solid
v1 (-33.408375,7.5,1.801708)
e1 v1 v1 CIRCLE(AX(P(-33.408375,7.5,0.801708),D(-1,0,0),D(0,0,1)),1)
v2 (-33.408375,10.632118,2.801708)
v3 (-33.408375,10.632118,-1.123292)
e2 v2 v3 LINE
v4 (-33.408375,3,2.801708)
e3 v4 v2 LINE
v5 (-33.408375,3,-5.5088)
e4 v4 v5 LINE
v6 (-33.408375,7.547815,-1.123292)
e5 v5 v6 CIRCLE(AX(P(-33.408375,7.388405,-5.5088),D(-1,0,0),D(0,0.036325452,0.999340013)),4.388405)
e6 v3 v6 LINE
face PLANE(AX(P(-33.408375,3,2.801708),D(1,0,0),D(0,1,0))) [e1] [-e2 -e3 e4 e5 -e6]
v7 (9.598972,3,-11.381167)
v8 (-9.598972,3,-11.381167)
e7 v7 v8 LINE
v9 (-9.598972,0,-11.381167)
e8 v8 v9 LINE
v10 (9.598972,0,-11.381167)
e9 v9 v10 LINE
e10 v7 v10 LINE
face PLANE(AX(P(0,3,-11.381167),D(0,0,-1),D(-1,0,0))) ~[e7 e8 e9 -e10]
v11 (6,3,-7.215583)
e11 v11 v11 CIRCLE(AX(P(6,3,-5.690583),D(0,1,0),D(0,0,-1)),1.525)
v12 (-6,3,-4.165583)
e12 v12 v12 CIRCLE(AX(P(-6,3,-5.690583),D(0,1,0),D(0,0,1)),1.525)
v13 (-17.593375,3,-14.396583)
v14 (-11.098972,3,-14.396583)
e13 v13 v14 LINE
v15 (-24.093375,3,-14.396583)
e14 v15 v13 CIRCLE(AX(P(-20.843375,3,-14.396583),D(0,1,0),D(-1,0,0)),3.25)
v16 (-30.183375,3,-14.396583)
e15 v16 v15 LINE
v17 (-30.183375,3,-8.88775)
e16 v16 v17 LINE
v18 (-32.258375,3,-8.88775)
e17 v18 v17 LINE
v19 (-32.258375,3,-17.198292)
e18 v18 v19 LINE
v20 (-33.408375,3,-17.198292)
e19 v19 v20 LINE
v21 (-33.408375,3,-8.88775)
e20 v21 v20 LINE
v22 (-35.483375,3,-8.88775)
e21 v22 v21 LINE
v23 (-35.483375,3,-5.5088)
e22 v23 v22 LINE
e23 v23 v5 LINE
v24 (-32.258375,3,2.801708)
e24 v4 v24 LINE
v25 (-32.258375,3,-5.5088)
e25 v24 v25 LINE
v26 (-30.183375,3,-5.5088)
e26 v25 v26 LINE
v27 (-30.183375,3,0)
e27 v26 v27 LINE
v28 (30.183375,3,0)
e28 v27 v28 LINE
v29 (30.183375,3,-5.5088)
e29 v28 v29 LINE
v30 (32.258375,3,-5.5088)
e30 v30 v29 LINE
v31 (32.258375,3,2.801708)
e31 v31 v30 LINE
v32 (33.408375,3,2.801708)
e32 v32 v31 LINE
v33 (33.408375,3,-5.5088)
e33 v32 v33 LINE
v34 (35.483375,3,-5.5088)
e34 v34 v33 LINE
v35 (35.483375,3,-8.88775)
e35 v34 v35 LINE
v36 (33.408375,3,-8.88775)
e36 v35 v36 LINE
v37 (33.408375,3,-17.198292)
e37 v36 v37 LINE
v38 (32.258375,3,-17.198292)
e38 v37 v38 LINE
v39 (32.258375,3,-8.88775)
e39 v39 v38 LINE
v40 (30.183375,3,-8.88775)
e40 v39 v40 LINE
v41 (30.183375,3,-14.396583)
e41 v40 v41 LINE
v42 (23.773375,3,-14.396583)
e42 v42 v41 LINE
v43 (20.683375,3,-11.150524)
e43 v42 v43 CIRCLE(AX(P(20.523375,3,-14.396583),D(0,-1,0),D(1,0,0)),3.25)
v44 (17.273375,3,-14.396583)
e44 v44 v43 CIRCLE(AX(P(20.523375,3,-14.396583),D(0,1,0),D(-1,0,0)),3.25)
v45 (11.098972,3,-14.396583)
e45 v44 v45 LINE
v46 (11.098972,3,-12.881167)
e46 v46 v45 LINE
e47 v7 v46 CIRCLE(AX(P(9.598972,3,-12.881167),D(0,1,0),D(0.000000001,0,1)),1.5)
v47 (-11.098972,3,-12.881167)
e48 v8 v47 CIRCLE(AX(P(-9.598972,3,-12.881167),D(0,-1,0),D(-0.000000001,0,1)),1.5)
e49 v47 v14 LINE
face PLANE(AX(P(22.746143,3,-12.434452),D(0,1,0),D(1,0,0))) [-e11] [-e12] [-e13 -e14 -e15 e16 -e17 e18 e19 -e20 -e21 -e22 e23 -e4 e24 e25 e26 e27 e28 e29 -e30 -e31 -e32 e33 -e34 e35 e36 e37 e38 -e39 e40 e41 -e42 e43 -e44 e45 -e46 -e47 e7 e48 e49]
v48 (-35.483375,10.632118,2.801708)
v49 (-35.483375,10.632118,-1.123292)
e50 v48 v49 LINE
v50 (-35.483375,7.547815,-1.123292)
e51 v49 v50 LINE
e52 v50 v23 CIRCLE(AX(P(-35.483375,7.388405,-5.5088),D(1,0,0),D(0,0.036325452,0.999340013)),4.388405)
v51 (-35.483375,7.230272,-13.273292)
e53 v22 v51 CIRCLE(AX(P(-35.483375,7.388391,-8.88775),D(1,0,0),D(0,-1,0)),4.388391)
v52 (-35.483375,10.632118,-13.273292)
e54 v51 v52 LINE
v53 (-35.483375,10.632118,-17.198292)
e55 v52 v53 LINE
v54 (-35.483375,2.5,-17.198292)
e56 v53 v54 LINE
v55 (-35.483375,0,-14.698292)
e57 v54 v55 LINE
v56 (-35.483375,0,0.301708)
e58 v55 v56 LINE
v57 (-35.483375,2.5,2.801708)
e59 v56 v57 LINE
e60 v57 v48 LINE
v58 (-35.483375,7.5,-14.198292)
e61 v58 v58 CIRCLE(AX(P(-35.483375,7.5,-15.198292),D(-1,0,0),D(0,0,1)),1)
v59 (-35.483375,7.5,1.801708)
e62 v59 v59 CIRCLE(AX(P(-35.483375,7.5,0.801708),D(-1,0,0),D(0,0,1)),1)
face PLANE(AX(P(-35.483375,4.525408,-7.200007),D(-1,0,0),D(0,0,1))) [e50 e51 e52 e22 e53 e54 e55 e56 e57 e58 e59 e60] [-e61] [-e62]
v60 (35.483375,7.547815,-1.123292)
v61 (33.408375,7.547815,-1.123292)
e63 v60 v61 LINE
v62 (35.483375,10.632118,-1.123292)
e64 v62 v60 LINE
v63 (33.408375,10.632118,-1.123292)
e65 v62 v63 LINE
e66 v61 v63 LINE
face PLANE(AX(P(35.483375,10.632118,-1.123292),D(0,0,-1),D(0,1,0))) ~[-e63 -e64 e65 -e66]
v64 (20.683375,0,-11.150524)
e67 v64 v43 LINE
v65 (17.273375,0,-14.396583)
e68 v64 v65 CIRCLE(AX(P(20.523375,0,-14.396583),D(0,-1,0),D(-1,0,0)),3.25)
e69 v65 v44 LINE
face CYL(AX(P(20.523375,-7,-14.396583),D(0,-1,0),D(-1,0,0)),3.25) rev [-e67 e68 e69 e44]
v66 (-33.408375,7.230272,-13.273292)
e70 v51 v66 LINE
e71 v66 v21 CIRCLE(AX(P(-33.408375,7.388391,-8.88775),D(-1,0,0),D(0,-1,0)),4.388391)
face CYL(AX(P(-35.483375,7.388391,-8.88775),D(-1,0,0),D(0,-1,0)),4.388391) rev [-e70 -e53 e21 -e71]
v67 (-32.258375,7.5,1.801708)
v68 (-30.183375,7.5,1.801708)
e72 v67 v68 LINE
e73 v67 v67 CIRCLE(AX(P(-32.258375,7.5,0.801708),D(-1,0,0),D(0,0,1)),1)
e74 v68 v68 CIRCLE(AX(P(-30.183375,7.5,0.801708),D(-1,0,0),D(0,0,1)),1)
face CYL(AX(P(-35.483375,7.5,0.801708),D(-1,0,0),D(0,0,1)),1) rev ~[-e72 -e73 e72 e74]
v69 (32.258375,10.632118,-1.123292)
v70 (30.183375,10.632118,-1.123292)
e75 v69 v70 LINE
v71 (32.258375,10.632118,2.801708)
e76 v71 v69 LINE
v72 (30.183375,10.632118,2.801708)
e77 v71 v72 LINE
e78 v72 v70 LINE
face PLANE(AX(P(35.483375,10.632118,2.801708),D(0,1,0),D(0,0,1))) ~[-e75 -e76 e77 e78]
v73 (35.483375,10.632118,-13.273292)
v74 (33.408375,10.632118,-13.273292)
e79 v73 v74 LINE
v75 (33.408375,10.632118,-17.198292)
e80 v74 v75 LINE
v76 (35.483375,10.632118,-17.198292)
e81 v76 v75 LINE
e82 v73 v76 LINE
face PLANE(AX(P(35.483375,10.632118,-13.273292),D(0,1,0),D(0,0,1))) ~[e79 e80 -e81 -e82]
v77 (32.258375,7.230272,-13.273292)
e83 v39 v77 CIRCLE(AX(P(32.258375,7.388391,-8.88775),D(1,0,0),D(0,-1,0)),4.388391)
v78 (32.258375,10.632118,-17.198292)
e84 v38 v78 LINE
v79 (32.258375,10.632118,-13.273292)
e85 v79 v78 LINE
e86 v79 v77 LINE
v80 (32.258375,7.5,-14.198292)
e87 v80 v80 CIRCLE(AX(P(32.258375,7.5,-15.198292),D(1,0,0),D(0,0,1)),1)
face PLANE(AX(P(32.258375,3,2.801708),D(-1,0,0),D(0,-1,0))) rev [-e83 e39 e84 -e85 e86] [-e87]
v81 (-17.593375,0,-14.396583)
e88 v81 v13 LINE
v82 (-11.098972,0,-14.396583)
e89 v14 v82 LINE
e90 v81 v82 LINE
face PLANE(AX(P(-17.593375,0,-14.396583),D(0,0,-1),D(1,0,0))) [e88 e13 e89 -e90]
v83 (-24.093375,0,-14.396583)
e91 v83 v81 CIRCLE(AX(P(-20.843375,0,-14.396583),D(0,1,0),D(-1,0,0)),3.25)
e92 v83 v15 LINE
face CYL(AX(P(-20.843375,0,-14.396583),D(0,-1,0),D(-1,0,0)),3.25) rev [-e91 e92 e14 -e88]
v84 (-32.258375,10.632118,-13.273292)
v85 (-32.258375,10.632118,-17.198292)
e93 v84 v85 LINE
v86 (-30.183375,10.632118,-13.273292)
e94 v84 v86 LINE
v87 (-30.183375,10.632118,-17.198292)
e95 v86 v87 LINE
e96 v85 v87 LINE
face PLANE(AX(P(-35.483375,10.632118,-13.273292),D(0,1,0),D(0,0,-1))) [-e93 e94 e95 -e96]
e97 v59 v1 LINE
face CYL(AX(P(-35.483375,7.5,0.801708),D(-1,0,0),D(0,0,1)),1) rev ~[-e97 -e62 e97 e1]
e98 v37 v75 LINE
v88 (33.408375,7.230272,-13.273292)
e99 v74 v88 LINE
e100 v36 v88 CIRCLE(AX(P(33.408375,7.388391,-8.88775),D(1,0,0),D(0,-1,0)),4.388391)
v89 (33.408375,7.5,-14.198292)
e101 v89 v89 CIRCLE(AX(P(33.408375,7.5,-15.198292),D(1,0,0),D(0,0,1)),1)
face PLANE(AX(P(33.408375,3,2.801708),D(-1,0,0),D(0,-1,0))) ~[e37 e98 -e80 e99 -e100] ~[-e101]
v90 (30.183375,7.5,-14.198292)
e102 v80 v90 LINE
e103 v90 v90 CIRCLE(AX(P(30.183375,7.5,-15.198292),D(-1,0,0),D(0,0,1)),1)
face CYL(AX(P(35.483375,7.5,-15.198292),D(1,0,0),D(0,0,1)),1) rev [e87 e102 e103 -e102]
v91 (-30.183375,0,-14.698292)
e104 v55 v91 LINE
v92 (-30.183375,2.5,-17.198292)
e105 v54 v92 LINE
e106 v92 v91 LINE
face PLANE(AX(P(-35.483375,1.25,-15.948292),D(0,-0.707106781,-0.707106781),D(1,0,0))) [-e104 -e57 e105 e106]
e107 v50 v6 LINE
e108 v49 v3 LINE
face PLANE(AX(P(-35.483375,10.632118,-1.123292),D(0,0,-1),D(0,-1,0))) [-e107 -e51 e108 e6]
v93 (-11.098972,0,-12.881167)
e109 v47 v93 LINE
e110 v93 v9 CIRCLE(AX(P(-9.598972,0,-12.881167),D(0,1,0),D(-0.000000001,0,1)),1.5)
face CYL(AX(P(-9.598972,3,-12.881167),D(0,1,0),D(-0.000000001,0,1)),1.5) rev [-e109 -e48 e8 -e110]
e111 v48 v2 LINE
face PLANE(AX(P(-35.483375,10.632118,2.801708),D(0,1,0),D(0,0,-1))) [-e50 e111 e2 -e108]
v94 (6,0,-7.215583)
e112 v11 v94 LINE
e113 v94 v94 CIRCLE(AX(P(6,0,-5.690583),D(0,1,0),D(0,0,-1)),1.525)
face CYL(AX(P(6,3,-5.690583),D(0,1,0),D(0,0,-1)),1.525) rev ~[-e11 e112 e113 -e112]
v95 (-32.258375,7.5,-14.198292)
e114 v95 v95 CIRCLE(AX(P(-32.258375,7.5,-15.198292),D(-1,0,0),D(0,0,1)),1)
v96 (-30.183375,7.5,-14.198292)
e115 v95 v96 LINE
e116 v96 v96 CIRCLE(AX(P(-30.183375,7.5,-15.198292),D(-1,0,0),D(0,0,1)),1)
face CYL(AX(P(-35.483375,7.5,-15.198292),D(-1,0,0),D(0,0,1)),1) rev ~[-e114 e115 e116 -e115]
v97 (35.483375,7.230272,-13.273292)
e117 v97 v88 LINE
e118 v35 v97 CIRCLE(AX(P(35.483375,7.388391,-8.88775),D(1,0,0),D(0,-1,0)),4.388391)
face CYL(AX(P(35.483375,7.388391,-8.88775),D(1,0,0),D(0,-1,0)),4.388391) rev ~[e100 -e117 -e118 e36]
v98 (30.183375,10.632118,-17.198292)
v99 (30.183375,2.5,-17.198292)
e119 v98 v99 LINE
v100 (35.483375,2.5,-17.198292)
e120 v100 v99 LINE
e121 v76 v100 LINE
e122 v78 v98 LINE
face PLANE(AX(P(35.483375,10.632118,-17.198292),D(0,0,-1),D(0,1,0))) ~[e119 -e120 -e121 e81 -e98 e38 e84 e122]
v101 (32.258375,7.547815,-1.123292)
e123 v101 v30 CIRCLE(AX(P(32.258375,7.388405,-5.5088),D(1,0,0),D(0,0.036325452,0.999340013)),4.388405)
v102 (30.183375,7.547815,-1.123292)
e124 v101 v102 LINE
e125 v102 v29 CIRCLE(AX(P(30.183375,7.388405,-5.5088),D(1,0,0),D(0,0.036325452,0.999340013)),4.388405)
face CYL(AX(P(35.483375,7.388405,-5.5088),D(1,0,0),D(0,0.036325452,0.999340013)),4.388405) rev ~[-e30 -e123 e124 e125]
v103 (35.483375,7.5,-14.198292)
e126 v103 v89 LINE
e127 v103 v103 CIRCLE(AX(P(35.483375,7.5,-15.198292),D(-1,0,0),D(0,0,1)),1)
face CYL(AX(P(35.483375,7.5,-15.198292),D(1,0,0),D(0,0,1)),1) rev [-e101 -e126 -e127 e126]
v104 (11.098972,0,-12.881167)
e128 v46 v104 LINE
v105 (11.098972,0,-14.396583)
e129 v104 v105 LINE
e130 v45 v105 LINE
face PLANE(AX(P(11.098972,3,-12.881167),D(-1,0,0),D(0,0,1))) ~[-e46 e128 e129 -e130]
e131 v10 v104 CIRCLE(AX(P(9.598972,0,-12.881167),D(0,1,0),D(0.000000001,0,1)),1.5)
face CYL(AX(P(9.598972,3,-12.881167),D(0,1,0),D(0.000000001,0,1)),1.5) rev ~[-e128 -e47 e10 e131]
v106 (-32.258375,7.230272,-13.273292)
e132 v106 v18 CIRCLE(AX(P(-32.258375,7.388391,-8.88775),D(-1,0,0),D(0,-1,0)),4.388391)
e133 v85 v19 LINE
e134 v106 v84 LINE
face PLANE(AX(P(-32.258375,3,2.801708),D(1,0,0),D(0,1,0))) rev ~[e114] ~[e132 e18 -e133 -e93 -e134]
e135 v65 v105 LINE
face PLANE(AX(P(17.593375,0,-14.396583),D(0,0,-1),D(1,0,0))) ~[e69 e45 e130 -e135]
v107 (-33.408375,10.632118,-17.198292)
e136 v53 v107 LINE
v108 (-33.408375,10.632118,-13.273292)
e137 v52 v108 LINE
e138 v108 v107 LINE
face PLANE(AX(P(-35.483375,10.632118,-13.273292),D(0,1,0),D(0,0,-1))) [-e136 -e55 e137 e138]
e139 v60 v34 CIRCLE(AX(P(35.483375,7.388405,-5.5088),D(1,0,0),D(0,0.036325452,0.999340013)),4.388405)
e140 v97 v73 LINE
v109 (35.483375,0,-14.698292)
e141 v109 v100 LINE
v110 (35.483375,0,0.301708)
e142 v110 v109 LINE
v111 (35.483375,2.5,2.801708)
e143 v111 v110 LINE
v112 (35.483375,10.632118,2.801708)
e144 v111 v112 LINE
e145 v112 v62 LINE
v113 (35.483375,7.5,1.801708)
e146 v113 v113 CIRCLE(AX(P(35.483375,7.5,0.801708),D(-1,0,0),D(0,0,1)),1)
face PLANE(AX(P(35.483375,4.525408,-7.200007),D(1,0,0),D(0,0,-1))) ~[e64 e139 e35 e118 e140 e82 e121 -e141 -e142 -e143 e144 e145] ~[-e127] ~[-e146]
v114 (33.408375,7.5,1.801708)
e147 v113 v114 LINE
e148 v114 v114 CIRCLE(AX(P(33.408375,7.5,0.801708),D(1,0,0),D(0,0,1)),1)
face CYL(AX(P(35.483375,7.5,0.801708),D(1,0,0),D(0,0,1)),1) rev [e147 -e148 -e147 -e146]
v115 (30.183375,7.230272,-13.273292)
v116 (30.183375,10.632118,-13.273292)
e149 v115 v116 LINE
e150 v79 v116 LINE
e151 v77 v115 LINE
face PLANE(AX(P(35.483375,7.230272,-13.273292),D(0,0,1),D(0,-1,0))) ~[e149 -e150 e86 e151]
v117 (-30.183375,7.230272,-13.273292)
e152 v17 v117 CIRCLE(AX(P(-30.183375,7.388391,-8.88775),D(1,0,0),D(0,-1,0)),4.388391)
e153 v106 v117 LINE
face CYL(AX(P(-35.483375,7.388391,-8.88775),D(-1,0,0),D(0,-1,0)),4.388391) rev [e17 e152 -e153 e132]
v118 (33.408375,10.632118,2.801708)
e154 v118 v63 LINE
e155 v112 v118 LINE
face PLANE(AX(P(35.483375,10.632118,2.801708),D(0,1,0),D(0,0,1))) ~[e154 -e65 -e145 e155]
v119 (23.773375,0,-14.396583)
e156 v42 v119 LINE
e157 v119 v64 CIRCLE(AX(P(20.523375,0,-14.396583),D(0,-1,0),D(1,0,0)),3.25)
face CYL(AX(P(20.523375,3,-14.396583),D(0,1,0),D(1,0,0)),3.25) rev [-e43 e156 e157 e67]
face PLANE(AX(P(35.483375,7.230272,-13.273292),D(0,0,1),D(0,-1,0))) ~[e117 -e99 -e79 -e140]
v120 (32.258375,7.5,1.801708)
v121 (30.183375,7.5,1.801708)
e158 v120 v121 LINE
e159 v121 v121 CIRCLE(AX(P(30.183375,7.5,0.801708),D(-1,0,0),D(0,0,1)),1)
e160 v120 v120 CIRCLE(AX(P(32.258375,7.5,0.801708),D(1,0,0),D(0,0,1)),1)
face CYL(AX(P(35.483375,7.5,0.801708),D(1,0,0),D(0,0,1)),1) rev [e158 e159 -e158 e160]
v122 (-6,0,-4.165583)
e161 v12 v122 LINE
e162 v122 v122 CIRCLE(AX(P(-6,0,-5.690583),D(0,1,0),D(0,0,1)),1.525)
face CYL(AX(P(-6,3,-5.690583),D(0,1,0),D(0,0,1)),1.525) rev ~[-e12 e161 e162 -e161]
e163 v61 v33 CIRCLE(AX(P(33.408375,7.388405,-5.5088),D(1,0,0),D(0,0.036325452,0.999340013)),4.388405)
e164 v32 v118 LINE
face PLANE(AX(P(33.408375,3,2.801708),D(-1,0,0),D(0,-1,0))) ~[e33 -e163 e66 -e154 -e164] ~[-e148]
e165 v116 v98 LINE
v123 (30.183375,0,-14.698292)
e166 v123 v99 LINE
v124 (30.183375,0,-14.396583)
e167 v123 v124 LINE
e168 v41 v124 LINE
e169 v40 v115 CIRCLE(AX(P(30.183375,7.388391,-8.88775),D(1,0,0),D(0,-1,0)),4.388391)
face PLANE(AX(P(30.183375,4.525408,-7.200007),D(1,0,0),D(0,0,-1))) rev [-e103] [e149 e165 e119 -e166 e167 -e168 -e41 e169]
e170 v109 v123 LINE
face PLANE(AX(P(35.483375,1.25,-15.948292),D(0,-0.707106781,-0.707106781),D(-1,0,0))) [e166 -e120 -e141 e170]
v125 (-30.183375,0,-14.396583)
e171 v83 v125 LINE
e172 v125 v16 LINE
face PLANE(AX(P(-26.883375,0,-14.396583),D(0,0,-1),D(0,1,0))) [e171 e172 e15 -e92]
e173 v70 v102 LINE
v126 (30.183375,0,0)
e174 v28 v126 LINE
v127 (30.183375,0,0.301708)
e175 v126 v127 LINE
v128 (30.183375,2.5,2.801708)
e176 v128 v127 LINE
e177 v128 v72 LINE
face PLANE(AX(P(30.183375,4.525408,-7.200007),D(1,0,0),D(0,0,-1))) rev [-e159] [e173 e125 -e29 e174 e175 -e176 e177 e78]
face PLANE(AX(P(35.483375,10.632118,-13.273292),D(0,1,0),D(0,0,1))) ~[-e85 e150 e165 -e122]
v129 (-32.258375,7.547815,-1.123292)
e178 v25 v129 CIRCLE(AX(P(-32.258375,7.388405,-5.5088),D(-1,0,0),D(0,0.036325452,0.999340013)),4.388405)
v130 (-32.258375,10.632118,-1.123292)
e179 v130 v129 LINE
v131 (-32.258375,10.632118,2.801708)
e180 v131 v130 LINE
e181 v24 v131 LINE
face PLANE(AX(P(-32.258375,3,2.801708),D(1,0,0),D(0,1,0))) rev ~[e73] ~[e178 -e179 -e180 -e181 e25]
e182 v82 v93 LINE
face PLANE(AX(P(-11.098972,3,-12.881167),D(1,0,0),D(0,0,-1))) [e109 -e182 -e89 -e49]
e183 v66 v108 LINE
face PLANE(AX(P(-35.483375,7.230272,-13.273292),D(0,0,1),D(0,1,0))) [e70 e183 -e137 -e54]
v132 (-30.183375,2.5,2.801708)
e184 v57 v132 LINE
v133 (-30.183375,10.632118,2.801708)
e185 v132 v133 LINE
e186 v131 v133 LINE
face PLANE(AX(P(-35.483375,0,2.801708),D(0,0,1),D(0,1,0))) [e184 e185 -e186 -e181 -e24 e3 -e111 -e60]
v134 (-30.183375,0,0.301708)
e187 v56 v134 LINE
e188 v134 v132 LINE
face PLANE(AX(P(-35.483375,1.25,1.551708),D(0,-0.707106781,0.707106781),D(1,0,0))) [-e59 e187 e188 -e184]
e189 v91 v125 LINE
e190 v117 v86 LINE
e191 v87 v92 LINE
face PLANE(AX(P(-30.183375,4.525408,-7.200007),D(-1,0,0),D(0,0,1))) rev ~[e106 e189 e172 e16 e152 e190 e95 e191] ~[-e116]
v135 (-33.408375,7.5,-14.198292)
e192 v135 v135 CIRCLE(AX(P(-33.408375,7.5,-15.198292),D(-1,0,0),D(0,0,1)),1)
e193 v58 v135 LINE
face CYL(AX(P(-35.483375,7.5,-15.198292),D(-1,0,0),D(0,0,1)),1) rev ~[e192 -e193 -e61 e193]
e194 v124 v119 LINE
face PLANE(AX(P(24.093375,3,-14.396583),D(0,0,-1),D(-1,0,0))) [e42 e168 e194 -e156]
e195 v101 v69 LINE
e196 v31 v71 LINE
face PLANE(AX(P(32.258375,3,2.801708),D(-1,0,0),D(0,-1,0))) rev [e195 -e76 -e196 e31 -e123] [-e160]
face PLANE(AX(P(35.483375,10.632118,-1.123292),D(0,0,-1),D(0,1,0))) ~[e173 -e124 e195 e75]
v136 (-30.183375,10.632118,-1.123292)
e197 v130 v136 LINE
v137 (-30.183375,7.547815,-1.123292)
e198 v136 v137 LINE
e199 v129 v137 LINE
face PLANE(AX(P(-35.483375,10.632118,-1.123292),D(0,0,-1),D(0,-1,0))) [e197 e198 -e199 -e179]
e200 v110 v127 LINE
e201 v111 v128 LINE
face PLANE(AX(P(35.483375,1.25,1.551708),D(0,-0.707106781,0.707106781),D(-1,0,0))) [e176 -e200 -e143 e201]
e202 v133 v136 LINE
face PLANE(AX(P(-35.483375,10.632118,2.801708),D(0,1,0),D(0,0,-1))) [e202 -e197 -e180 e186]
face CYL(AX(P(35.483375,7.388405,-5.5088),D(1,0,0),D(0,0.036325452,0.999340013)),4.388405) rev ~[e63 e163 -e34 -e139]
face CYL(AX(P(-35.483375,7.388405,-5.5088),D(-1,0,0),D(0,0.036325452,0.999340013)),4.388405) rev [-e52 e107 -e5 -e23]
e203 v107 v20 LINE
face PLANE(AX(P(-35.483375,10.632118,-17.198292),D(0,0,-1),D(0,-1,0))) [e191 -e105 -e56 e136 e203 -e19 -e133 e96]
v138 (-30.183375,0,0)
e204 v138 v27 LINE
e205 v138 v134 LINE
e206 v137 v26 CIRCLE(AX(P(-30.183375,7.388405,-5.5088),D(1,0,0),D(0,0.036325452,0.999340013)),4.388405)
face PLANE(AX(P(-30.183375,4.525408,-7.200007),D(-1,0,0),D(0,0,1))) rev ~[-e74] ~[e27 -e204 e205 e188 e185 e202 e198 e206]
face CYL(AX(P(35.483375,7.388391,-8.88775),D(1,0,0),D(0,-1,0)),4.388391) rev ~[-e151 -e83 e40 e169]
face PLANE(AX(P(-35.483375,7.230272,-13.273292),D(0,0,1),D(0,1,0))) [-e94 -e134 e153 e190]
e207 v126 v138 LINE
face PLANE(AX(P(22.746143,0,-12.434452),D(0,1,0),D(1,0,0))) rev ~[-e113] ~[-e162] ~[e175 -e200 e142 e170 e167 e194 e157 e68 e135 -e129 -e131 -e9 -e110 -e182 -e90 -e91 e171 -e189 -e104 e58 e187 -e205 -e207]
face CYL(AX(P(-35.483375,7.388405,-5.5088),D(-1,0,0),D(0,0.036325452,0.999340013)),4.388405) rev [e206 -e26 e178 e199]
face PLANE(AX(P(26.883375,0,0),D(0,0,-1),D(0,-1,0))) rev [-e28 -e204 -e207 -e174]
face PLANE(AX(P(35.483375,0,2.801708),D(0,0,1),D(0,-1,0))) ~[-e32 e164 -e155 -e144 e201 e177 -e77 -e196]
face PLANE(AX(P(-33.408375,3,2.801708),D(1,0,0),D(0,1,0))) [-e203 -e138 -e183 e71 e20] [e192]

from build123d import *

# Parameters (mm, degrees)
BOSS_EXTRUDE1_DEPTH      = 3
SKETCH2_W                = 14.396583112
SKETCH2_H                = 3
BOSS_EXTRUDE2_DEPTH      = 8.6
SKETCH3_R                = 1
BOSS_EXTRUDE3_DEPTH      = 5.3
SKETCH4_W                = 1.15
SKETCH4_H                = 7.632118098
CUT_EXTRUDE1_DEPTH       = 26.3
CHAMFER1_SIZE            = 2.5
CUT_EXTRUDE2_DEPTH       = 10
CHAMFER1_OF_MIRROR1_SIZE = 2.5
CUT_EXTRUDE5_START       = -10
CUT_EXTRUDE5_DEPTH       = 10
BOSS_EXTRUDE4_DEPTH      = 3
SKETCH7_R                = 1.525
CUT_EXTRUDE6_DEPTH       = 41.163420863


with BuildPart() as part:
    # Sketch1 → Boss-Extrude1 (new body)
    with BuildSketch(Plane(origin=(0, 0, 0), x_dir=(1, 0, 0), z_dir=(0, 1, 0))):
        with BuildLine():
            Line((-26.88337521, 0), (-26.88337521, 14.396583112))
            Line((-26.88337521, 14.396583112), (-24.09337521, 14.396583112))
            ThreePointArc((-24.09337521, 14.396583112), (-20.84337521, 11.146583112), (-17.59337521, 14.396583112))
            Line((-17.59337521, 14.396583112), (0, 14.396583112))
            Line((0, 14.396583112), (0, 0))
            Line((0, 0), (-26.88337521, 0))
        make_face()
    boss_extrude1 = extrude(amount=BOSS_EXTRUDE1_DEPTH)

    # Sketch2 → Boss-Extrude2 (add)
    with BuildSketch(Plane.ZY.offset(26.88337521)):
        with Locations((-7.198291556, 1.5)):
            Rectangle(SKETCH2_W, SKETCH2_H)
    boss_extrude2 = extrude(amount=BOSS_EXTRUDE2_DEPTH)

    # Sketch3 → Boss-Extrude3 (add)
    with BuildSketch(Plane.ZY.offset(35.48337521)):
        with BuildLine():
            Line((1.532781983, 10.632118098), (-1.123291556, 10.632118098))
            Line((-1.123291556, 10.632118098), (-1.123291556, 10.557118098))
            Line((-1.123291556, 10.557118098), (-1.123291556, 7.547815402))
            ThreePointArc((-1.123291556, 7.547815402), (-2.349871735, 4.342215517), (-5.508799885, 3))
            Line((-5.508799885, 3), (-8.887750376, 3))
            ThreePointArc((-8.887750376, 3), (-11.934395079, 4.229921298), (-13.273291556, 7.230272374))
            Line((-13.273291556, 7.230272374), (-13.273291556, 10.557118098))
            Line((-13.273291556, 10.557118098), (-13.273291556, 10.632118098))
            Line((-13.273291556, 10.632118098), (-15.929365096, 10.632118098))
            Line((-15.929365096, 10.632118098), (-17.198291556, 10.632118098))
            Line((-17.198291556, 10.632118098), (-17.198291556, 7.5))
            Line((-17.198291556, 7.5), (-17.198291556, 0))
            Line((-17.198291556, 0), (-14.396583112, 0))
            Line((-14.396583112, 0), (0, 0))
            Line((0, 0), (2.801708444, 0))
            Line((2.801708444, 0), (2.801708444, 7.5))
            Line((2.801708444, 7.5), (2.801708444, 10.632118098))
            Line((2.801708444, 10.632118098), (1.532781983, 10.632118098))
        make_face()
        with Locations((-15.198291556, 7.5)):
            Circle(SKETCH3_R, mode=Mode.SUBTRACT)
        with Locations((0.801708444, 7.5)):
            Circle(SKETCH3_R, mode=Mode.SUBTRACT)
    boss_extrude3 = extrude(amount=-BOSS_EXTRUDE3_DEPTH)

    # Sketch4 → Cut-Extrude1 (cut)
    with BuildSketch(Plane.XY.offset(2.801708444)):
        with Locations((-32.83337521, 6.816059049)):
            Rectangle(SKETCH4_W, SKETCH4_H)
    cut_extrude1 = extrude(amount=-CUT_EXTRUDE1_DEPTH, mode=Mode.SUBTRACT)

    # Chamfer1
    chamfer1_edges = [part.edges().sort_by_distance(p)[0] for p in [
        (-32.83337521, 0, -17.198291556),
        (-32.83337521, 0, 2.801708444),
    ]]
    chamfer(chamfer1_edges, length=CHAMFER1_SIZE)

    # Sketch5 → Cut-Extrude2 (cut)
    with BuildSketch(Plane(origin=(0, 3, 0), x_dir=(1, 0, 0), z_dir=(0, 1, 0))):
        with BuildLine():
            Line((0, 11.381166784), (-9.598972409, 11.381166784))
            ThreePointArc((-9.598972409, 11.381166784), (-10.65963258, 11.820506612), (-11.098972409, 12.881166784))
            Line((-11.098972409, 12.881166784), (-11.098972409, 14.396583112))
            Line((-11.098972409, 14.396583112), (0, 14.396583112))
            Line((0, 14.396583112), (0, 11.381166784))
        make_face()
    cut_extrude2 = extrude(amount=-CUT_EXTRUDE2_DEPTH, mode=Mode.SUBTRACT)

    # Mirror1: Boss-Extrude1, Boss-Extrude2, Boss-Extrude3, Cut-Extrude1, Cut-Extrude2 across plane
    add(boss_extrude1.mirror(Plane(origin=(0, 0, 0), x_dir=(0, 0, 1), z_dir=(1, 0, 0))))
    add(boss_extrude2.mirror(Plane(origin=(0, 0, 0), x_dir=(0, 0, 1), z_dir=(1, 0, 0))))
    add(boss_extrude3.mirror(Plane(origin=(0, 0, 0), x_dir=(0, 0, 1), z_dir=(1, 0, 0))))
    add(cut_extrude1.mirror(Plane(origin=(0, 0, 0), x_dir=(0, 0, 1), z_dir=(1, 0, 0))), mode=Mode.SUBTRACT)
    add(cut_extrude2.mirror(Plane(origin=(0, 0, 0), x_dir=(0, 0, 1), z_dir=(1, 0, 0))), mode=Mode.SUBTRACT)

    # Chamfer1 of Mirror1
    chamfer1_of_mirror1_edges = [part.edges().sort_by_distance(p)[0] for p in [
        (32.83337521, 0, -17.198291556),
        (32.83337521, 0, 2.801708444),
    ]]
    chamfer(chamfer1_of_mirror1_edges, length=CHAMFER1_OF_MIRROR1_SIZE)

    # Sketch6 → Cut-Extrude5 (cut)
    with BuildSketch(Plane(origin=(0, 3, 0), x_dir=(1, 0, 0), z_dir=(0, 1, 0)).offset(CUT_EXTRUDE5_START)):
        with BuildLine():
            ThreePointArc((20.68337521, 11.150523963), (22.877361191, 12.155768528), (23.77337521, 14.396583112))
            ThreePointArc((23.77337521, 14.396583112), (20.52337521, 17.646583112), (17.27337521, 14.396583112))
            Line((17.27337521, 14.396583112), (17.59337521, 14.396583112))
            ThreePointArc((17.59337521, 14.396583112), (18.489389228, 12.155768528), (20.68337521, 11.150523963))
        make_face()
        with BuildLine():
            Line((17.59337521, 14.396583112), (17.27337521, 14.396583112))
            ThreePointArc((17.27337521, 14.396583112), (18.282560626, 12.042597131), (20.68337521, 11.150523963))
            ThreePointArc((20.68337521, 11.150523963), (18.489389228, 12.155768528), (17.59337521, 14.396583112))
        make_face()
    extrude(amount=CUT_EXTRUDE5_DEPTH, mode=Mode.SUBTRACT)

    # Sketch6<3> → Boss-Extrude4 (add, through all)
    with BuildSketch(Plane(origin=(0, 3, 0), x_dir=(1, 0, 0), z_dir=(0, 1, 0))):
        with BuildLine():
            Line((24.09337521, 14.396583112), (23.77337521, 14.396583112))
            ThreePointArc((23.77337521, 14.396583112), (22.877361191, 12.155768528), (20.68337521, 11.150523963))
            ThreePointArc((20.68337521, 11.150523963), (20.763350947, 11.147568474), (20.84337521, 11.146583112))
            ThreePointArc((20.84337521, 11.146583112), (23.141472249, 12.098486073), (24.09337521, 14.396583112))
        make_face()
    extrude(amount=-BOSS_EXTRUDE4_DEPTH)

    # Sketch7 → Cut-Extrude6 (cut, through all)
    with BuildSketch(Plane(origin=(0, 3, 0), x_dir=(1, 0, 0), z_dir=(0, 1, 0))):
        with Locations(Location((-6, 5.690583392, 0), (0, 0, 270))):
            Circle(SKETCH7_R)
        with Locations(Location((6, 5.690583392, 0), (0, 0, 90))):
            Circle(SKETCH7_R)
    extrude(amount=-CUT_EXTRUDE6_DEPTH, mode=Mode.SUBTRACT)


solid = part.part
